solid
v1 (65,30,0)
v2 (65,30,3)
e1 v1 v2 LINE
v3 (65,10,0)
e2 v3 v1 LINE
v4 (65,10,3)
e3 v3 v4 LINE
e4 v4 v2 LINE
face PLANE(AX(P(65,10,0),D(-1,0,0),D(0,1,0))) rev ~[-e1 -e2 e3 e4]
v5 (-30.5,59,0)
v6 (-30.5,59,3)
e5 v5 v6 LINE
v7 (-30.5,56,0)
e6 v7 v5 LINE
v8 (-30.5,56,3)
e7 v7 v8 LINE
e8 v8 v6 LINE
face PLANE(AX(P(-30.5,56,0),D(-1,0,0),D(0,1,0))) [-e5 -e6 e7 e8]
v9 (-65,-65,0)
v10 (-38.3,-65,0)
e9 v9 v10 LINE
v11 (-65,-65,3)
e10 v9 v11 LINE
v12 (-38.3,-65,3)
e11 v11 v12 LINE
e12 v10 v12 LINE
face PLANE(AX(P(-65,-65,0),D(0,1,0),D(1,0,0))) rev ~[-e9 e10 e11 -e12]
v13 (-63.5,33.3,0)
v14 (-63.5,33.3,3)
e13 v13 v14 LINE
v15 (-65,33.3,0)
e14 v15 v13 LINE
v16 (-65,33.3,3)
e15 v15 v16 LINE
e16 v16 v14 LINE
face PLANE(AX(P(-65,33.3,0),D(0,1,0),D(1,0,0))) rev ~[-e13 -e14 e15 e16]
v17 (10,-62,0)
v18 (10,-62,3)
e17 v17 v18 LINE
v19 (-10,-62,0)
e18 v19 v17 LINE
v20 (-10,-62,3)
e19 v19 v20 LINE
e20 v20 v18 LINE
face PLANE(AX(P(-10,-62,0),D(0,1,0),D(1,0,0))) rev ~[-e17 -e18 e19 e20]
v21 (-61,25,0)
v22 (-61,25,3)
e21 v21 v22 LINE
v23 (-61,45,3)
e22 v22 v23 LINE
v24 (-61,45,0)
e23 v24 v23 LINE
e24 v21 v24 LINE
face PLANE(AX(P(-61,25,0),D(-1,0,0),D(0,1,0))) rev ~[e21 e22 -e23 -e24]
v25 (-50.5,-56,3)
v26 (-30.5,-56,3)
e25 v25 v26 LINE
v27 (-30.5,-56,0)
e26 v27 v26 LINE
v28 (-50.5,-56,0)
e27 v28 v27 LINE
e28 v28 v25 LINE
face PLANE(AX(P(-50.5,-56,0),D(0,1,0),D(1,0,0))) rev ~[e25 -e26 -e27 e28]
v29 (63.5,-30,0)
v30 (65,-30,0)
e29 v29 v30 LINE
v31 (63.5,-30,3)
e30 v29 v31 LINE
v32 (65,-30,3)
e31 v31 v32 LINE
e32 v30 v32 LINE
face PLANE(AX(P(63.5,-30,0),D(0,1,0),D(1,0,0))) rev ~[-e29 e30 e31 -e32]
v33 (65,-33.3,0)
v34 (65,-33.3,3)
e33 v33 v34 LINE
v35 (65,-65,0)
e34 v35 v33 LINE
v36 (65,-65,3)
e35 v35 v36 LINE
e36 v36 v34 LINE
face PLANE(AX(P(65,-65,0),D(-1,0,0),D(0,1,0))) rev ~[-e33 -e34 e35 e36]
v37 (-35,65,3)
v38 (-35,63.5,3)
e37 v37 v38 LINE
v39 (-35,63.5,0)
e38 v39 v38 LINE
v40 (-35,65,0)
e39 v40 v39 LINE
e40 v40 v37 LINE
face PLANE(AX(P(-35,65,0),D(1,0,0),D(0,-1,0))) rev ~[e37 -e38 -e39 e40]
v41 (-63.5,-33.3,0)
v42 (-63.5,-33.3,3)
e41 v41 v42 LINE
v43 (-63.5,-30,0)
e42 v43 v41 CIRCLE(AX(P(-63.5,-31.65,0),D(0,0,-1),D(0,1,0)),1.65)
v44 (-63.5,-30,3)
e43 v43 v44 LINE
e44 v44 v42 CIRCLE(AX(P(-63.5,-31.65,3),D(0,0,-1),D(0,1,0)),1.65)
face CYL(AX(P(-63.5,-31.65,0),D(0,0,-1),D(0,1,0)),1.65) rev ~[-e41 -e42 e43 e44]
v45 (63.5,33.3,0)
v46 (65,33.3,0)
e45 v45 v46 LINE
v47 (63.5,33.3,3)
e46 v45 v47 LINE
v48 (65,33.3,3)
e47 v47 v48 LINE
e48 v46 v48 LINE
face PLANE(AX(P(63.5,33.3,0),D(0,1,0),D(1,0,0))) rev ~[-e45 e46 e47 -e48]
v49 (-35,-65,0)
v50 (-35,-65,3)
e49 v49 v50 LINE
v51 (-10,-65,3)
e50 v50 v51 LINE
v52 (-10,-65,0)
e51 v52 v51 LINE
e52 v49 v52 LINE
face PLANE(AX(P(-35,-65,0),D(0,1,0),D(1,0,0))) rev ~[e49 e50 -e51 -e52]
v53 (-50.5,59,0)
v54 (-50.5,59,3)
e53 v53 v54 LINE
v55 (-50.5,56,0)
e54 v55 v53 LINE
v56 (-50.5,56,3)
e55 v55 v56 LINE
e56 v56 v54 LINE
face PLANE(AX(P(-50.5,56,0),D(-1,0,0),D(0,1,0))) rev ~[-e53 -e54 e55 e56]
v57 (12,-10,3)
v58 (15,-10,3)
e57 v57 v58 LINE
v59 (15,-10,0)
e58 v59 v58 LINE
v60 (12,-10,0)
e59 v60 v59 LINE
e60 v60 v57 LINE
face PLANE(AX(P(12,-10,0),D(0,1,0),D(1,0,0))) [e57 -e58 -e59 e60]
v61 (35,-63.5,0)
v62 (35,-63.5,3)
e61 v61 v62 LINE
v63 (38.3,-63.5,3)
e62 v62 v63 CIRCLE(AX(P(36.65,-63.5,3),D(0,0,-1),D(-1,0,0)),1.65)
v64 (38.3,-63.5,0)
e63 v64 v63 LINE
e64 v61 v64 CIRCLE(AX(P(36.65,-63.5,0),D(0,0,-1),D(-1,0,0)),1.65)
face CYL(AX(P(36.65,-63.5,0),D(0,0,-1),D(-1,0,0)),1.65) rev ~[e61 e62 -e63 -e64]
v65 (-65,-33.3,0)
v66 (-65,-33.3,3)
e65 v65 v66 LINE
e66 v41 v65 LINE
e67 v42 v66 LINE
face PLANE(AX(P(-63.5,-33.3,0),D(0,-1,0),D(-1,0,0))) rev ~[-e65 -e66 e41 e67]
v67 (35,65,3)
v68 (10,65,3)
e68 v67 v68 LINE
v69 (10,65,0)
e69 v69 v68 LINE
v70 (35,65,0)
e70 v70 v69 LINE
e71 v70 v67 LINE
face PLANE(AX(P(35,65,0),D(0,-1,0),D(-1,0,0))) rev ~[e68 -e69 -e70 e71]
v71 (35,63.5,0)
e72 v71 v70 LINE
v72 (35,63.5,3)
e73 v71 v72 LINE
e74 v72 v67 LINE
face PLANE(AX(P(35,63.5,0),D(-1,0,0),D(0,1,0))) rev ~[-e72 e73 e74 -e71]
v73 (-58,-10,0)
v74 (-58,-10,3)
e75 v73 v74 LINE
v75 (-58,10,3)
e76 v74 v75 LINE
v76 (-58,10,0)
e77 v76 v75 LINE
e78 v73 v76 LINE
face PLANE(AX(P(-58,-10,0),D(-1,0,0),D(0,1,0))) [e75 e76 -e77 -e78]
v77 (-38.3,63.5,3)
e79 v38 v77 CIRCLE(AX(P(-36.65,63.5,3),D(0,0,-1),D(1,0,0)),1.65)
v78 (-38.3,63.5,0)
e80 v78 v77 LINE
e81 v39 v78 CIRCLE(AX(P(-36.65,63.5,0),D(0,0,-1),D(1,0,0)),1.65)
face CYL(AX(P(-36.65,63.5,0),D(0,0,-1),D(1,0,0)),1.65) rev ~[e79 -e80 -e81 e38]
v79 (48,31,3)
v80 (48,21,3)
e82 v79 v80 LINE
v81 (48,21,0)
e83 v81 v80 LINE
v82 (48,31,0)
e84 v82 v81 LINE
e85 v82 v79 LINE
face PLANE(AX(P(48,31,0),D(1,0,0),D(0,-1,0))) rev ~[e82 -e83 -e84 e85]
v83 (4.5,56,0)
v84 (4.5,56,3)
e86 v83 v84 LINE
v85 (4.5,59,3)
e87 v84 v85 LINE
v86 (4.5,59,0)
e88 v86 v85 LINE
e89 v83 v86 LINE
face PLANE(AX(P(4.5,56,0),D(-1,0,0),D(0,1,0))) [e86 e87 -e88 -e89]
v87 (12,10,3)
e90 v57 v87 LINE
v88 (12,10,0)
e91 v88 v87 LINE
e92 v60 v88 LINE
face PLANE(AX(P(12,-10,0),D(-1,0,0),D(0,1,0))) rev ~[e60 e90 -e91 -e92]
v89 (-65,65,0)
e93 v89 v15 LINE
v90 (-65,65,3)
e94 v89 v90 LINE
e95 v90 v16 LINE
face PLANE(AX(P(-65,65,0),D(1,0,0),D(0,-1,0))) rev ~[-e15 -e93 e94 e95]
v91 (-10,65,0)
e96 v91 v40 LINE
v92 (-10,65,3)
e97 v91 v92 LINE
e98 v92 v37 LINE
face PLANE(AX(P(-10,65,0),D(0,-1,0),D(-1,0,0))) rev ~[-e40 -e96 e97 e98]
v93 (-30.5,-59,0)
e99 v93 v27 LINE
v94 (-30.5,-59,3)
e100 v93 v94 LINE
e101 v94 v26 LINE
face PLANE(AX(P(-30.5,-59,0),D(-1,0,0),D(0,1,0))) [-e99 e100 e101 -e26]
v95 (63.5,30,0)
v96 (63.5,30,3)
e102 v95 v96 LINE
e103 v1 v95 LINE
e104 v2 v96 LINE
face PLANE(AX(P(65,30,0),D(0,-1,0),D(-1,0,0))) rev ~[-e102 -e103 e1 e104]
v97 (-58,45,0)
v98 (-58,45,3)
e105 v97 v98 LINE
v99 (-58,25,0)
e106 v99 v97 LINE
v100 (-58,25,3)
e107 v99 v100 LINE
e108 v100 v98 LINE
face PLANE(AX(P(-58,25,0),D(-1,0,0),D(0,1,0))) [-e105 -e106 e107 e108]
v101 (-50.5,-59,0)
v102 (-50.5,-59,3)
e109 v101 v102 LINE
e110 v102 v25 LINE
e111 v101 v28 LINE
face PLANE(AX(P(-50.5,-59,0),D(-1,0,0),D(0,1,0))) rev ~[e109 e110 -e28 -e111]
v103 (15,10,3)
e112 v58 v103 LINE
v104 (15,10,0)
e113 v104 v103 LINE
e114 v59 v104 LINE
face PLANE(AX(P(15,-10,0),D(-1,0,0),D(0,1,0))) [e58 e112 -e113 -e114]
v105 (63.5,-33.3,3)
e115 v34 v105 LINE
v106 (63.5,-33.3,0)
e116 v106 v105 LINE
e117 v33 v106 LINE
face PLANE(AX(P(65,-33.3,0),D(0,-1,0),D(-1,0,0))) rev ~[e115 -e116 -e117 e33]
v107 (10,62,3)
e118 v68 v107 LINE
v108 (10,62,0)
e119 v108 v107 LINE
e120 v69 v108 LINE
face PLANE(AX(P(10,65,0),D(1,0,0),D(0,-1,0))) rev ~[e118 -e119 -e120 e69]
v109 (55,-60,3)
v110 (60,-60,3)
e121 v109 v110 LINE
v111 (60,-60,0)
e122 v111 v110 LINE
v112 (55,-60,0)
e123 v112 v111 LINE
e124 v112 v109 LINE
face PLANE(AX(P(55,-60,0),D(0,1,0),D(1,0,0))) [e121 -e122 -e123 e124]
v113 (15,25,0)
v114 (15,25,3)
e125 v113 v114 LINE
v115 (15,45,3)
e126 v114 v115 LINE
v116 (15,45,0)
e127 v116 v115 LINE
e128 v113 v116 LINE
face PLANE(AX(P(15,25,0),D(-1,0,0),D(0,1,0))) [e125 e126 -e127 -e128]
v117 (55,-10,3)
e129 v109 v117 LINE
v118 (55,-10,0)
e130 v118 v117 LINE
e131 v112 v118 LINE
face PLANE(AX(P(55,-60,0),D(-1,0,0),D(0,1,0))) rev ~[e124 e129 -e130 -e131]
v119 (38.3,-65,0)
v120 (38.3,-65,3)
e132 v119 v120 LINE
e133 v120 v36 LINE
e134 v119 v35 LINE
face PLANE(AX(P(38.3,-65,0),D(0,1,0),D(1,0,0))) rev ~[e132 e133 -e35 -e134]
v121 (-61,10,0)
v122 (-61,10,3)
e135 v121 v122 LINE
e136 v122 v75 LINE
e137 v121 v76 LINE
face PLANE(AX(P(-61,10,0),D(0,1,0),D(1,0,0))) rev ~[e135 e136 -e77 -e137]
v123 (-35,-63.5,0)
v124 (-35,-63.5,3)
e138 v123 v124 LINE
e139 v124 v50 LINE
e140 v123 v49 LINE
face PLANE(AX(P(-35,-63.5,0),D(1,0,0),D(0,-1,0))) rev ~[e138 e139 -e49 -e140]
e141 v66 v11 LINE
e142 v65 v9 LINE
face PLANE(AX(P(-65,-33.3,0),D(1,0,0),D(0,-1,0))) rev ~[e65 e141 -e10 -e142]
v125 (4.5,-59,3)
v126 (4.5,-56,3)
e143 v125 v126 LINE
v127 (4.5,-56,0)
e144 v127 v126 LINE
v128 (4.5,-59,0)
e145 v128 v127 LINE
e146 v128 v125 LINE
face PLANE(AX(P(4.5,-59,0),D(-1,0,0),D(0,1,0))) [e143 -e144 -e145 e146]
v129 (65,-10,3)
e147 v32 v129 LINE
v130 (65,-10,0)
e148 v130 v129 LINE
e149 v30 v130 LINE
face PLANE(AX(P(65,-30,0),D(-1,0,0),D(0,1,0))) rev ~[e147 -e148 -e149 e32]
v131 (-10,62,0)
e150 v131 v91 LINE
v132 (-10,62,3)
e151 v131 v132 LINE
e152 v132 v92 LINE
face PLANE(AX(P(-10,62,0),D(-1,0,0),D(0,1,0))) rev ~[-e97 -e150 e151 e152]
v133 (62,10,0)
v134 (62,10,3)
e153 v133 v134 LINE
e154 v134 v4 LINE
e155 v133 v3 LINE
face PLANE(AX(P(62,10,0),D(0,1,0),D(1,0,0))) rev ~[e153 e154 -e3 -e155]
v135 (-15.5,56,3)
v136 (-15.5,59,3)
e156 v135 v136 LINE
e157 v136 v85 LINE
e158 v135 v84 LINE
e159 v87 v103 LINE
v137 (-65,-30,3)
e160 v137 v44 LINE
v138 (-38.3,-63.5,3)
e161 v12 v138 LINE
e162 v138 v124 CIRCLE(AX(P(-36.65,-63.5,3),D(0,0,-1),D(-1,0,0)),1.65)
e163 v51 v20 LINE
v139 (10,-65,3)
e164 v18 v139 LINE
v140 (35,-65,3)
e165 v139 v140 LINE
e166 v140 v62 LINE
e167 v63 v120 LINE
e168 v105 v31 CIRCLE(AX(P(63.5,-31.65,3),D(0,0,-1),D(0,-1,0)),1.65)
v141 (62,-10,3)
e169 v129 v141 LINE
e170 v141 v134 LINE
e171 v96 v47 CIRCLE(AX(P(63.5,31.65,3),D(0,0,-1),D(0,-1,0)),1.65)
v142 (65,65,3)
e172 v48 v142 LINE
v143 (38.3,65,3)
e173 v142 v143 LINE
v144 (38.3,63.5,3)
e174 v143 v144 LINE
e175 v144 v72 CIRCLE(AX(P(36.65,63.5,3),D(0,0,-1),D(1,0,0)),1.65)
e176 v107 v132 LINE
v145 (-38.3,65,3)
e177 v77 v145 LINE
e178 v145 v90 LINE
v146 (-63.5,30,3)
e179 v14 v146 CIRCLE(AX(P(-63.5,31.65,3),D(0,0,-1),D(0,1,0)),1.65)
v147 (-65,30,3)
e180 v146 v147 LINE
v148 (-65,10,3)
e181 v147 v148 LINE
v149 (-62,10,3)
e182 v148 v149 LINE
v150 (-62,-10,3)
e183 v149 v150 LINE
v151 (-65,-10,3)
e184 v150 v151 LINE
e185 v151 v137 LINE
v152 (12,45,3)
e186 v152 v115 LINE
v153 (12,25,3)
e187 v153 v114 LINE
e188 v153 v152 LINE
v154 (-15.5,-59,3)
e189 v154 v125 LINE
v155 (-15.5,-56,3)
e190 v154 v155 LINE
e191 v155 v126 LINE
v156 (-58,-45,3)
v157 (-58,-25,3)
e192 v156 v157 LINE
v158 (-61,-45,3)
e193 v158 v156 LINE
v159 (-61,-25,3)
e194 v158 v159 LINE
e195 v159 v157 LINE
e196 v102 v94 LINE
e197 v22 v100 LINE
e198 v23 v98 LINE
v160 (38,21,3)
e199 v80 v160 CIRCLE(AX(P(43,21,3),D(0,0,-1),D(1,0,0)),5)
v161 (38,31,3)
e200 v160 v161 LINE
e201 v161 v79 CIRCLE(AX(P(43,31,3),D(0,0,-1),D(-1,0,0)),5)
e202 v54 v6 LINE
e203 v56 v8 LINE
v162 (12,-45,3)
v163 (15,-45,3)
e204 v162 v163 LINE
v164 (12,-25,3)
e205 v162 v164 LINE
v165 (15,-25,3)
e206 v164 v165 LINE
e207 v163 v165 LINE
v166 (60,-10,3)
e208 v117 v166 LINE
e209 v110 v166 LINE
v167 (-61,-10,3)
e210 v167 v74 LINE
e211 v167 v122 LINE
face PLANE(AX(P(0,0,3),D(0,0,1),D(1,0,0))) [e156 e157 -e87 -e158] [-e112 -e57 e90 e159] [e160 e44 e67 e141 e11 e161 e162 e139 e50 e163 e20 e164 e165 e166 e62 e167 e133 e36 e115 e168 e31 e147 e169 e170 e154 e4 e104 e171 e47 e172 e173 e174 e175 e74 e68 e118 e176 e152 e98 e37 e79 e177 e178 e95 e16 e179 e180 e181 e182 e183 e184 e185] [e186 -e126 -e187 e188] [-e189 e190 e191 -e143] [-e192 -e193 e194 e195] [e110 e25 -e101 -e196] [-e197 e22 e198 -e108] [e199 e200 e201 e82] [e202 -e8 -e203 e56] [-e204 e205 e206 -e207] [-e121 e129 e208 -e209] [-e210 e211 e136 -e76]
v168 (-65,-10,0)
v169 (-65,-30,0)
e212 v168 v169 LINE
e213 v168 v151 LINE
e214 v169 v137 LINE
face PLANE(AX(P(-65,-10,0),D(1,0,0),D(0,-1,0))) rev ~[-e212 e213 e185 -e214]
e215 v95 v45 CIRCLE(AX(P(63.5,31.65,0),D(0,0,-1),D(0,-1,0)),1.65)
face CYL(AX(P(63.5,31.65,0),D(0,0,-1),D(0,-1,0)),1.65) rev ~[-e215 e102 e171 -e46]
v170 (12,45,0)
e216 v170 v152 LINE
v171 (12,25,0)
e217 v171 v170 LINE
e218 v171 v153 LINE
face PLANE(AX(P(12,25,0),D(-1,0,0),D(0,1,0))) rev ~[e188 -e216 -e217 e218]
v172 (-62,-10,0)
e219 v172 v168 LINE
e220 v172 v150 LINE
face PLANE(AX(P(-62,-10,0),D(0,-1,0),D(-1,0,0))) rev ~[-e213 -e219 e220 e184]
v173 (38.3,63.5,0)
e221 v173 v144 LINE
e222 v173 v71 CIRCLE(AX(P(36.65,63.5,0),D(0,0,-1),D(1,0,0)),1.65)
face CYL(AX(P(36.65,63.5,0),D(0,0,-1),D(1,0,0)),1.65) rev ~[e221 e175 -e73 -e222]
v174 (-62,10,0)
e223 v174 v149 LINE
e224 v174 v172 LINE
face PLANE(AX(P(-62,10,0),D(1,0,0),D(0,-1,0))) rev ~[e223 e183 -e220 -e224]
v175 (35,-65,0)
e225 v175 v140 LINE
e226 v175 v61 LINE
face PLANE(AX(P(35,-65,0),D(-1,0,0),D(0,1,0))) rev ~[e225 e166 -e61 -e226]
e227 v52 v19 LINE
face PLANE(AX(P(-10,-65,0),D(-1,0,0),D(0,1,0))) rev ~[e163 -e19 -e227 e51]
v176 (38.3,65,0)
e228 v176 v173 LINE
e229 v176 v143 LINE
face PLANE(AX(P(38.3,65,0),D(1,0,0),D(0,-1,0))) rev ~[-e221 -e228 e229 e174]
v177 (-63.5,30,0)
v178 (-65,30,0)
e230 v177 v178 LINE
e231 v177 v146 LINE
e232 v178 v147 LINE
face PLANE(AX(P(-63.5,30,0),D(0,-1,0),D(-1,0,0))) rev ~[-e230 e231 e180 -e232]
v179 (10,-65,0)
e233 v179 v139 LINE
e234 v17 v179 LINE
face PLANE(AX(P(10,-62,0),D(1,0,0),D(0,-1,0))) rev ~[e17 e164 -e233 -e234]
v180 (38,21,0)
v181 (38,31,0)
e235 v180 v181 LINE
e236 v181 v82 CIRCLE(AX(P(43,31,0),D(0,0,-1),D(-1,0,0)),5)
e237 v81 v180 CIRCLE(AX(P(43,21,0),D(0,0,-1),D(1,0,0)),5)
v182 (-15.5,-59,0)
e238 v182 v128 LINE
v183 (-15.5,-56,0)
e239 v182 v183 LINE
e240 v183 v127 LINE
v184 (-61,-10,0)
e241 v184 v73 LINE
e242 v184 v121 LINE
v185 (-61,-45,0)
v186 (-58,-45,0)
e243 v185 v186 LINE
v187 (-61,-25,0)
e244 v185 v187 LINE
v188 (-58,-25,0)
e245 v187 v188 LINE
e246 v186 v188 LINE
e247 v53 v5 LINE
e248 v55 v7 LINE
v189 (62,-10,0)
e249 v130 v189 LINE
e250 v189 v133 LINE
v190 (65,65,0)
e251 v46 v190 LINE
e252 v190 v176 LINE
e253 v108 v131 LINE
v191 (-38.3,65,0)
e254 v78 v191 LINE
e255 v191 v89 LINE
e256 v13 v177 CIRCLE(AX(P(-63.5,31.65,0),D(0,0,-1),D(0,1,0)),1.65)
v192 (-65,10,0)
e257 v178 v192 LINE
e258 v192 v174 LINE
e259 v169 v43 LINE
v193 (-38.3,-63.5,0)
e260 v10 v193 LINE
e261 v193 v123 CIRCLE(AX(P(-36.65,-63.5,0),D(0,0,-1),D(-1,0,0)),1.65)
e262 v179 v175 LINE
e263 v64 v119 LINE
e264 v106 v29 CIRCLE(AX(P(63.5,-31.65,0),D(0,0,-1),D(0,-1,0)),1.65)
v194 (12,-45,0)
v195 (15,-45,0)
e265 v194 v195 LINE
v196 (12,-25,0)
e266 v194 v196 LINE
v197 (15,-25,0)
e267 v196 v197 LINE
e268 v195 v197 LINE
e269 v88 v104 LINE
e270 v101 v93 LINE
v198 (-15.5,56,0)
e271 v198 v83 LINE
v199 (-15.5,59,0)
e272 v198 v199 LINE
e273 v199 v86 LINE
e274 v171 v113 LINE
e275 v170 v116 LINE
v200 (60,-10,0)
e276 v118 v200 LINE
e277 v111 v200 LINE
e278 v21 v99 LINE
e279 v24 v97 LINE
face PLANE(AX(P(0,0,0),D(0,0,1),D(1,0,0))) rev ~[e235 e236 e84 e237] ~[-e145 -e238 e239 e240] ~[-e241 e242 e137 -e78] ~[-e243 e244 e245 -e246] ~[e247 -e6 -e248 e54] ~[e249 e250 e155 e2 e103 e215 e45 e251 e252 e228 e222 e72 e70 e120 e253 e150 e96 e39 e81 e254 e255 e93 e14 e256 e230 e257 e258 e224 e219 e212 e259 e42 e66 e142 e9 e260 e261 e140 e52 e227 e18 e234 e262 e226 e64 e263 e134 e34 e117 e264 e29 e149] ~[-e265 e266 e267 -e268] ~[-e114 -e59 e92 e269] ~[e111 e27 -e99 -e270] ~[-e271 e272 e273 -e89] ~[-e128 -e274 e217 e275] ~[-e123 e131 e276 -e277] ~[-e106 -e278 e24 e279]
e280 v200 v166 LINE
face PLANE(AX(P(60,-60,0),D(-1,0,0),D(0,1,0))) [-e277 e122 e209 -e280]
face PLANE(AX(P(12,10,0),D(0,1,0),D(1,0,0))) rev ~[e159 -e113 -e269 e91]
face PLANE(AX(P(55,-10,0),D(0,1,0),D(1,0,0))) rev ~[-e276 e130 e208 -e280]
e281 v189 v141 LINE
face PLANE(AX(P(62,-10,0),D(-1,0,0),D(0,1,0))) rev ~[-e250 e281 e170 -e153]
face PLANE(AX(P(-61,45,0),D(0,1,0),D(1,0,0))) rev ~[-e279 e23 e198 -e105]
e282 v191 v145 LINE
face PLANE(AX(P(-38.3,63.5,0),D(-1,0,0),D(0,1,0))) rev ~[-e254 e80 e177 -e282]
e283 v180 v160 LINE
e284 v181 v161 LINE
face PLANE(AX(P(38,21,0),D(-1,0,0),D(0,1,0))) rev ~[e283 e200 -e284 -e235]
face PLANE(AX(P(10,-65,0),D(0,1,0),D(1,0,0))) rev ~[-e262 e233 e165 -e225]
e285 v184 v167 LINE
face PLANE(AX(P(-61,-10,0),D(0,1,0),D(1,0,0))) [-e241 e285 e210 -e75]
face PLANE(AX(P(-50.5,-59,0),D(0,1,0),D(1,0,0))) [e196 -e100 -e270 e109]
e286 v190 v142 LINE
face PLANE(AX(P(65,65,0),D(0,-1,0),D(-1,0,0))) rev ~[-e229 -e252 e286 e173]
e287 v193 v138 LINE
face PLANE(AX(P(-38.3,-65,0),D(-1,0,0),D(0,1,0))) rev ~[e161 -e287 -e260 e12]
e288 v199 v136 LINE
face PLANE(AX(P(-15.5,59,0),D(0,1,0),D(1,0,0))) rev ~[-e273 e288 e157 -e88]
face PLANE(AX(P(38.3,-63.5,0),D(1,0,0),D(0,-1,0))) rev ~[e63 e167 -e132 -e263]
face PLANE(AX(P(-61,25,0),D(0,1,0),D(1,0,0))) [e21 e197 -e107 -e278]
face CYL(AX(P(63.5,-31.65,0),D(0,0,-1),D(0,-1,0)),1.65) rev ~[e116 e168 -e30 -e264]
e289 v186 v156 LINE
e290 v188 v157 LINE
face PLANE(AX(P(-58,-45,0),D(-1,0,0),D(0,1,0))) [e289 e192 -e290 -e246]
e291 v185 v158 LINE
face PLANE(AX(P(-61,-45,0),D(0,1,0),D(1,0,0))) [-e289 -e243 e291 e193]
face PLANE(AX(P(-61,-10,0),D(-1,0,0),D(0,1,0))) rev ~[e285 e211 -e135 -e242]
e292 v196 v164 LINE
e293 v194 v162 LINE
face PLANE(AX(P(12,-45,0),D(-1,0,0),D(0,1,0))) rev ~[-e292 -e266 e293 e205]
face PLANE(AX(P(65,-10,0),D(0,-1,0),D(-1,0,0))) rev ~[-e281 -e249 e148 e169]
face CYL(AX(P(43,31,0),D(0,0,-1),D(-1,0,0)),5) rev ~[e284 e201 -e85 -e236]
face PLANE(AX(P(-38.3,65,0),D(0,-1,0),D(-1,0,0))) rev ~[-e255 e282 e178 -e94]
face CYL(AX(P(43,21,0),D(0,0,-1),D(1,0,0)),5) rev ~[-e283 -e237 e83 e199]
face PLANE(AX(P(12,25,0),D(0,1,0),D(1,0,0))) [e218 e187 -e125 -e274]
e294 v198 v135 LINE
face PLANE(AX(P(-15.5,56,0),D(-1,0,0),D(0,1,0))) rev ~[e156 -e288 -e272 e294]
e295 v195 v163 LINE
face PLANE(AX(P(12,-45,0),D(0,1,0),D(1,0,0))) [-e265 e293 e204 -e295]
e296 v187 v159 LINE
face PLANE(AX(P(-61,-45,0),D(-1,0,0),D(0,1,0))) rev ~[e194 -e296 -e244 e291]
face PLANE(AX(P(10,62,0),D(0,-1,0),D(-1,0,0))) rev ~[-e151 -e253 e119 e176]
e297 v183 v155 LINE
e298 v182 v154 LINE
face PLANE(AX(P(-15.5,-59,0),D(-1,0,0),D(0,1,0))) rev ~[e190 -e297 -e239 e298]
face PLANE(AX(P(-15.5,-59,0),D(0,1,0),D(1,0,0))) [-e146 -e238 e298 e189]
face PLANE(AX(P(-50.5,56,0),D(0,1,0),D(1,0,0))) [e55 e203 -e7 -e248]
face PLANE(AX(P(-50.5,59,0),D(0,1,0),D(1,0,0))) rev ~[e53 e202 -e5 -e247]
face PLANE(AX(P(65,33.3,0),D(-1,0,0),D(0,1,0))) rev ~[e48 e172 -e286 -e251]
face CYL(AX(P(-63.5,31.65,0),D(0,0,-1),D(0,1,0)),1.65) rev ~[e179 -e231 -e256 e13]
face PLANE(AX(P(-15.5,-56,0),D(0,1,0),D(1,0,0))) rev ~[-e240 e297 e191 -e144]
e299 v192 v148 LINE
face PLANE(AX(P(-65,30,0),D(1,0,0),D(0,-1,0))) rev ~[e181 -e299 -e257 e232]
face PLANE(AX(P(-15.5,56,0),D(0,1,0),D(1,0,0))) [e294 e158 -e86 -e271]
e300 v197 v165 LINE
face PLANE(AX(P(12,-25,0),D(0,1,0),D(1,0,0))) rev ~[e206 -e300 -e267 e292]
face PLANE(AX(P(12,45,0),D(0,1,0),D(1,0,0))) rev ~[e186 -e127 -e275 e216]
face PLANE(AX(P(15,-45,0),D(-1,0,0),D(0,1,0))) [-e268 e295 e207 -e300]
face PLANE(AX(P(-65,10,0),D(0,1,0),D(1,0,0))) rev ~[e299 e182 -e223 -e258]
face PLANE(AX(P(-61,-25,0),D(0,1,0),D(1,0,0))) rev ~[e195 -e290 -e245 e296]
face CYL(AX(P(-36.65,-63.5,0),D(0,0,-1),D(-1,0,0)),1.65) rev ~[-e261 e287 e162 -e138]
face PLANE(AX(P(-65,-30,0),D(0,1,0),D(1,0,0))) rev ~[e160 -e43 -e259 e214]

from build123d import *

# Parameters (mm, degrees)
SKETCH1_W           = 20
SKETCH1_H           = 3
SKETCH1_W_2         = 3
SKETCH1_H_2         = 20
SKETCH1_W_3         = 5
SKETCH1_H_3         = 50
BOSS_EXTRUDE1_DEPTH = 3


with BuildPart() as part:
    # Sketch1 → Boss-Extrude1 (new body)
    with BuildSketch(Plane.XY):
        with BuildLine():
            Line((10, -62), (10, -65))
            Line((10, -65), (35, -65))
            Line((35, -65), (35, -63.5))
            ThreePointArc((35, -63.5), (36.65, -61.85), (38.3, -63.5))
            Line((38.3, -63.5), (38.3, -65))
            Line((38.3, -65), (65, -65))
            Line((65, -65), (65, -33.3))
            Line((65, -33.3), (63.5, -33.3))
            ThreePointArc((63.5, -33.3), (61.85, -31.65), (63.5, -30))
            Line((63.5, -30), (65, -30))
            Line((65, -30), (65, -10))
            Line((65, -10), (62, -10))
            Line((62, -10), (62, 10))
            Line((62, 10), (65, 10))
            Line((65, 10), (65, 30))
            Line((65, 30), (63.5, 30))
            ThreePointArc((63.5, 30), (61.85, 31.65), (63.5, 33.3))
            Line((63.5, 33.3), (65, 33.3))
            Line((65, 33.3), (65, 65))
            Line((65, 65), (38.3, 65))
            Line((38.3, 65), (38.3, 63.5))
            ThreePointArc((38.3, 63.5), (36.65, 61.85), (35, 63.5))
            Line((35, 63.5), (35, 65))
            Line((35, 65), (10, 65))
            Line((10, 65), (10, 62))
            Line((10, 62), (-10, 62))
            Line((-10, 62), (-10, 65))
            Line((-10, 65), (-35, 65))
            Line((-35, 65), (-35, 63.5))
            ThreePointArc((-35, 63.5), (-36.65, 61.85), (-38.3, 63.5))
            Line((-38.3, 63.5), (-38.3, 65))
            Line((-38.3, 65), (-65, 65))
            Line((-65, 65), (-65, 33.3))
            Line((-65, 33.3), (-63.5, 33.3))
            ThreePointArc((-63.5, 33.3), (-61.85, 31.65), (-63.5, 30))
            Line((-63.5, 30), (-65, 30))
            Line((-65, 30), (-65, 10))
            Line((-65, 10), (-62, 10))
            Line((-62, 10), (-62, -10))
            Line((-62, -10), (-65, -10))
            Line((-65, -10), (-65, -30))
            Line((-65, -30), (-63.5, -30))
            ThreePointArc((-63.5, -30), (-61.85, -31.65), (-63.5, -33.3))
            Line((-63.5, -33.3), (-65, -33.3))
            Line((-65, -33.3), (-65, -65))
            Line((-65, -65), (-38.3, -65))
            Line((-38.3, -65), (-38.3, -63.5))
            ThreePointArc((-38.3, -63.5), (-36.65, -61.85), (-35, -63.5))
            Line((-35, -63.5), (-35, -65))
            Line((-35, -65), (-10, -65))
            Line((-10, -65), (-10, -62))
            Line((-10, -62), (10, -62))
        make_face()
        with Locations((-40.5, -57.5)):
            Rectangle(SKETCH1_W, SKETCH1_H, mode=Mode.SUBTRACT)
        with Locations((-59.5, -35)):
            Rectangle(SKETCH1_W_2, SKETCH1_H_2, mode=Mode.SUBTRACT)
        with Locations((-5.5, -57.5)):
            Rectangle(SKETCH1_W, SKETCH1_H, mode=Mode.SUBTRACT)
        with Locations((13.5, -35)):
            Rectangle(SKETCH1_W_2, SKETCH1_H_2, mode=Mode.SUBTRACT)
        with Locations((57.5, -35)):
            Rectangle(SKETCH1_W_3, SKETCH1_H_3, mode=Mode.SUBTRACT)
        with Locations((-59.5, 0)):
            Rectangle(SKETCH1_W_2, SKETCH1_H_2, mode=Mode.SUBTRACT)
        with Locations((-59.5, 35)):
            Rectangle(SKETCH1_W_2, SKETCH1_H_2, mode=Mode.SUBTRACT)
        with Locations((-40.5, 57.5)):
            Rectangle(SKETCH1_W, SKETCH1_H, mode=Mode.SUBTRACT)
        with Locations((-5.5, 57.5)):
            Rectangle(SKETCH1_W, SKETCH1_H, mode=Mode.SUBTRACT)
        with Locations((13.5, 0)):
            Rectangle(SKETCH1_W_2, SKETCH1_H_2, mode=Mode.SUBTRACT)
        with BuildLine():
            ThreePointArc((38, 31), (43, 36), (48, 31))
            Line((48, 31), (48, 21))
            ThreePointArc((48, 21), (43, 16), (38, 21))
            Line((38, 21), (38, 31))
        make_face(mode=Mode.SUBTRACT)
        with Locations((13.5, 35)):
            Rectangle(SKETCH1_W_2, SKETCH1_H_2, mode=Mode.SUBTRACT)
    extrude(amount=BOSS_EXTRUDE1_DEPTH)


solid = part.part
